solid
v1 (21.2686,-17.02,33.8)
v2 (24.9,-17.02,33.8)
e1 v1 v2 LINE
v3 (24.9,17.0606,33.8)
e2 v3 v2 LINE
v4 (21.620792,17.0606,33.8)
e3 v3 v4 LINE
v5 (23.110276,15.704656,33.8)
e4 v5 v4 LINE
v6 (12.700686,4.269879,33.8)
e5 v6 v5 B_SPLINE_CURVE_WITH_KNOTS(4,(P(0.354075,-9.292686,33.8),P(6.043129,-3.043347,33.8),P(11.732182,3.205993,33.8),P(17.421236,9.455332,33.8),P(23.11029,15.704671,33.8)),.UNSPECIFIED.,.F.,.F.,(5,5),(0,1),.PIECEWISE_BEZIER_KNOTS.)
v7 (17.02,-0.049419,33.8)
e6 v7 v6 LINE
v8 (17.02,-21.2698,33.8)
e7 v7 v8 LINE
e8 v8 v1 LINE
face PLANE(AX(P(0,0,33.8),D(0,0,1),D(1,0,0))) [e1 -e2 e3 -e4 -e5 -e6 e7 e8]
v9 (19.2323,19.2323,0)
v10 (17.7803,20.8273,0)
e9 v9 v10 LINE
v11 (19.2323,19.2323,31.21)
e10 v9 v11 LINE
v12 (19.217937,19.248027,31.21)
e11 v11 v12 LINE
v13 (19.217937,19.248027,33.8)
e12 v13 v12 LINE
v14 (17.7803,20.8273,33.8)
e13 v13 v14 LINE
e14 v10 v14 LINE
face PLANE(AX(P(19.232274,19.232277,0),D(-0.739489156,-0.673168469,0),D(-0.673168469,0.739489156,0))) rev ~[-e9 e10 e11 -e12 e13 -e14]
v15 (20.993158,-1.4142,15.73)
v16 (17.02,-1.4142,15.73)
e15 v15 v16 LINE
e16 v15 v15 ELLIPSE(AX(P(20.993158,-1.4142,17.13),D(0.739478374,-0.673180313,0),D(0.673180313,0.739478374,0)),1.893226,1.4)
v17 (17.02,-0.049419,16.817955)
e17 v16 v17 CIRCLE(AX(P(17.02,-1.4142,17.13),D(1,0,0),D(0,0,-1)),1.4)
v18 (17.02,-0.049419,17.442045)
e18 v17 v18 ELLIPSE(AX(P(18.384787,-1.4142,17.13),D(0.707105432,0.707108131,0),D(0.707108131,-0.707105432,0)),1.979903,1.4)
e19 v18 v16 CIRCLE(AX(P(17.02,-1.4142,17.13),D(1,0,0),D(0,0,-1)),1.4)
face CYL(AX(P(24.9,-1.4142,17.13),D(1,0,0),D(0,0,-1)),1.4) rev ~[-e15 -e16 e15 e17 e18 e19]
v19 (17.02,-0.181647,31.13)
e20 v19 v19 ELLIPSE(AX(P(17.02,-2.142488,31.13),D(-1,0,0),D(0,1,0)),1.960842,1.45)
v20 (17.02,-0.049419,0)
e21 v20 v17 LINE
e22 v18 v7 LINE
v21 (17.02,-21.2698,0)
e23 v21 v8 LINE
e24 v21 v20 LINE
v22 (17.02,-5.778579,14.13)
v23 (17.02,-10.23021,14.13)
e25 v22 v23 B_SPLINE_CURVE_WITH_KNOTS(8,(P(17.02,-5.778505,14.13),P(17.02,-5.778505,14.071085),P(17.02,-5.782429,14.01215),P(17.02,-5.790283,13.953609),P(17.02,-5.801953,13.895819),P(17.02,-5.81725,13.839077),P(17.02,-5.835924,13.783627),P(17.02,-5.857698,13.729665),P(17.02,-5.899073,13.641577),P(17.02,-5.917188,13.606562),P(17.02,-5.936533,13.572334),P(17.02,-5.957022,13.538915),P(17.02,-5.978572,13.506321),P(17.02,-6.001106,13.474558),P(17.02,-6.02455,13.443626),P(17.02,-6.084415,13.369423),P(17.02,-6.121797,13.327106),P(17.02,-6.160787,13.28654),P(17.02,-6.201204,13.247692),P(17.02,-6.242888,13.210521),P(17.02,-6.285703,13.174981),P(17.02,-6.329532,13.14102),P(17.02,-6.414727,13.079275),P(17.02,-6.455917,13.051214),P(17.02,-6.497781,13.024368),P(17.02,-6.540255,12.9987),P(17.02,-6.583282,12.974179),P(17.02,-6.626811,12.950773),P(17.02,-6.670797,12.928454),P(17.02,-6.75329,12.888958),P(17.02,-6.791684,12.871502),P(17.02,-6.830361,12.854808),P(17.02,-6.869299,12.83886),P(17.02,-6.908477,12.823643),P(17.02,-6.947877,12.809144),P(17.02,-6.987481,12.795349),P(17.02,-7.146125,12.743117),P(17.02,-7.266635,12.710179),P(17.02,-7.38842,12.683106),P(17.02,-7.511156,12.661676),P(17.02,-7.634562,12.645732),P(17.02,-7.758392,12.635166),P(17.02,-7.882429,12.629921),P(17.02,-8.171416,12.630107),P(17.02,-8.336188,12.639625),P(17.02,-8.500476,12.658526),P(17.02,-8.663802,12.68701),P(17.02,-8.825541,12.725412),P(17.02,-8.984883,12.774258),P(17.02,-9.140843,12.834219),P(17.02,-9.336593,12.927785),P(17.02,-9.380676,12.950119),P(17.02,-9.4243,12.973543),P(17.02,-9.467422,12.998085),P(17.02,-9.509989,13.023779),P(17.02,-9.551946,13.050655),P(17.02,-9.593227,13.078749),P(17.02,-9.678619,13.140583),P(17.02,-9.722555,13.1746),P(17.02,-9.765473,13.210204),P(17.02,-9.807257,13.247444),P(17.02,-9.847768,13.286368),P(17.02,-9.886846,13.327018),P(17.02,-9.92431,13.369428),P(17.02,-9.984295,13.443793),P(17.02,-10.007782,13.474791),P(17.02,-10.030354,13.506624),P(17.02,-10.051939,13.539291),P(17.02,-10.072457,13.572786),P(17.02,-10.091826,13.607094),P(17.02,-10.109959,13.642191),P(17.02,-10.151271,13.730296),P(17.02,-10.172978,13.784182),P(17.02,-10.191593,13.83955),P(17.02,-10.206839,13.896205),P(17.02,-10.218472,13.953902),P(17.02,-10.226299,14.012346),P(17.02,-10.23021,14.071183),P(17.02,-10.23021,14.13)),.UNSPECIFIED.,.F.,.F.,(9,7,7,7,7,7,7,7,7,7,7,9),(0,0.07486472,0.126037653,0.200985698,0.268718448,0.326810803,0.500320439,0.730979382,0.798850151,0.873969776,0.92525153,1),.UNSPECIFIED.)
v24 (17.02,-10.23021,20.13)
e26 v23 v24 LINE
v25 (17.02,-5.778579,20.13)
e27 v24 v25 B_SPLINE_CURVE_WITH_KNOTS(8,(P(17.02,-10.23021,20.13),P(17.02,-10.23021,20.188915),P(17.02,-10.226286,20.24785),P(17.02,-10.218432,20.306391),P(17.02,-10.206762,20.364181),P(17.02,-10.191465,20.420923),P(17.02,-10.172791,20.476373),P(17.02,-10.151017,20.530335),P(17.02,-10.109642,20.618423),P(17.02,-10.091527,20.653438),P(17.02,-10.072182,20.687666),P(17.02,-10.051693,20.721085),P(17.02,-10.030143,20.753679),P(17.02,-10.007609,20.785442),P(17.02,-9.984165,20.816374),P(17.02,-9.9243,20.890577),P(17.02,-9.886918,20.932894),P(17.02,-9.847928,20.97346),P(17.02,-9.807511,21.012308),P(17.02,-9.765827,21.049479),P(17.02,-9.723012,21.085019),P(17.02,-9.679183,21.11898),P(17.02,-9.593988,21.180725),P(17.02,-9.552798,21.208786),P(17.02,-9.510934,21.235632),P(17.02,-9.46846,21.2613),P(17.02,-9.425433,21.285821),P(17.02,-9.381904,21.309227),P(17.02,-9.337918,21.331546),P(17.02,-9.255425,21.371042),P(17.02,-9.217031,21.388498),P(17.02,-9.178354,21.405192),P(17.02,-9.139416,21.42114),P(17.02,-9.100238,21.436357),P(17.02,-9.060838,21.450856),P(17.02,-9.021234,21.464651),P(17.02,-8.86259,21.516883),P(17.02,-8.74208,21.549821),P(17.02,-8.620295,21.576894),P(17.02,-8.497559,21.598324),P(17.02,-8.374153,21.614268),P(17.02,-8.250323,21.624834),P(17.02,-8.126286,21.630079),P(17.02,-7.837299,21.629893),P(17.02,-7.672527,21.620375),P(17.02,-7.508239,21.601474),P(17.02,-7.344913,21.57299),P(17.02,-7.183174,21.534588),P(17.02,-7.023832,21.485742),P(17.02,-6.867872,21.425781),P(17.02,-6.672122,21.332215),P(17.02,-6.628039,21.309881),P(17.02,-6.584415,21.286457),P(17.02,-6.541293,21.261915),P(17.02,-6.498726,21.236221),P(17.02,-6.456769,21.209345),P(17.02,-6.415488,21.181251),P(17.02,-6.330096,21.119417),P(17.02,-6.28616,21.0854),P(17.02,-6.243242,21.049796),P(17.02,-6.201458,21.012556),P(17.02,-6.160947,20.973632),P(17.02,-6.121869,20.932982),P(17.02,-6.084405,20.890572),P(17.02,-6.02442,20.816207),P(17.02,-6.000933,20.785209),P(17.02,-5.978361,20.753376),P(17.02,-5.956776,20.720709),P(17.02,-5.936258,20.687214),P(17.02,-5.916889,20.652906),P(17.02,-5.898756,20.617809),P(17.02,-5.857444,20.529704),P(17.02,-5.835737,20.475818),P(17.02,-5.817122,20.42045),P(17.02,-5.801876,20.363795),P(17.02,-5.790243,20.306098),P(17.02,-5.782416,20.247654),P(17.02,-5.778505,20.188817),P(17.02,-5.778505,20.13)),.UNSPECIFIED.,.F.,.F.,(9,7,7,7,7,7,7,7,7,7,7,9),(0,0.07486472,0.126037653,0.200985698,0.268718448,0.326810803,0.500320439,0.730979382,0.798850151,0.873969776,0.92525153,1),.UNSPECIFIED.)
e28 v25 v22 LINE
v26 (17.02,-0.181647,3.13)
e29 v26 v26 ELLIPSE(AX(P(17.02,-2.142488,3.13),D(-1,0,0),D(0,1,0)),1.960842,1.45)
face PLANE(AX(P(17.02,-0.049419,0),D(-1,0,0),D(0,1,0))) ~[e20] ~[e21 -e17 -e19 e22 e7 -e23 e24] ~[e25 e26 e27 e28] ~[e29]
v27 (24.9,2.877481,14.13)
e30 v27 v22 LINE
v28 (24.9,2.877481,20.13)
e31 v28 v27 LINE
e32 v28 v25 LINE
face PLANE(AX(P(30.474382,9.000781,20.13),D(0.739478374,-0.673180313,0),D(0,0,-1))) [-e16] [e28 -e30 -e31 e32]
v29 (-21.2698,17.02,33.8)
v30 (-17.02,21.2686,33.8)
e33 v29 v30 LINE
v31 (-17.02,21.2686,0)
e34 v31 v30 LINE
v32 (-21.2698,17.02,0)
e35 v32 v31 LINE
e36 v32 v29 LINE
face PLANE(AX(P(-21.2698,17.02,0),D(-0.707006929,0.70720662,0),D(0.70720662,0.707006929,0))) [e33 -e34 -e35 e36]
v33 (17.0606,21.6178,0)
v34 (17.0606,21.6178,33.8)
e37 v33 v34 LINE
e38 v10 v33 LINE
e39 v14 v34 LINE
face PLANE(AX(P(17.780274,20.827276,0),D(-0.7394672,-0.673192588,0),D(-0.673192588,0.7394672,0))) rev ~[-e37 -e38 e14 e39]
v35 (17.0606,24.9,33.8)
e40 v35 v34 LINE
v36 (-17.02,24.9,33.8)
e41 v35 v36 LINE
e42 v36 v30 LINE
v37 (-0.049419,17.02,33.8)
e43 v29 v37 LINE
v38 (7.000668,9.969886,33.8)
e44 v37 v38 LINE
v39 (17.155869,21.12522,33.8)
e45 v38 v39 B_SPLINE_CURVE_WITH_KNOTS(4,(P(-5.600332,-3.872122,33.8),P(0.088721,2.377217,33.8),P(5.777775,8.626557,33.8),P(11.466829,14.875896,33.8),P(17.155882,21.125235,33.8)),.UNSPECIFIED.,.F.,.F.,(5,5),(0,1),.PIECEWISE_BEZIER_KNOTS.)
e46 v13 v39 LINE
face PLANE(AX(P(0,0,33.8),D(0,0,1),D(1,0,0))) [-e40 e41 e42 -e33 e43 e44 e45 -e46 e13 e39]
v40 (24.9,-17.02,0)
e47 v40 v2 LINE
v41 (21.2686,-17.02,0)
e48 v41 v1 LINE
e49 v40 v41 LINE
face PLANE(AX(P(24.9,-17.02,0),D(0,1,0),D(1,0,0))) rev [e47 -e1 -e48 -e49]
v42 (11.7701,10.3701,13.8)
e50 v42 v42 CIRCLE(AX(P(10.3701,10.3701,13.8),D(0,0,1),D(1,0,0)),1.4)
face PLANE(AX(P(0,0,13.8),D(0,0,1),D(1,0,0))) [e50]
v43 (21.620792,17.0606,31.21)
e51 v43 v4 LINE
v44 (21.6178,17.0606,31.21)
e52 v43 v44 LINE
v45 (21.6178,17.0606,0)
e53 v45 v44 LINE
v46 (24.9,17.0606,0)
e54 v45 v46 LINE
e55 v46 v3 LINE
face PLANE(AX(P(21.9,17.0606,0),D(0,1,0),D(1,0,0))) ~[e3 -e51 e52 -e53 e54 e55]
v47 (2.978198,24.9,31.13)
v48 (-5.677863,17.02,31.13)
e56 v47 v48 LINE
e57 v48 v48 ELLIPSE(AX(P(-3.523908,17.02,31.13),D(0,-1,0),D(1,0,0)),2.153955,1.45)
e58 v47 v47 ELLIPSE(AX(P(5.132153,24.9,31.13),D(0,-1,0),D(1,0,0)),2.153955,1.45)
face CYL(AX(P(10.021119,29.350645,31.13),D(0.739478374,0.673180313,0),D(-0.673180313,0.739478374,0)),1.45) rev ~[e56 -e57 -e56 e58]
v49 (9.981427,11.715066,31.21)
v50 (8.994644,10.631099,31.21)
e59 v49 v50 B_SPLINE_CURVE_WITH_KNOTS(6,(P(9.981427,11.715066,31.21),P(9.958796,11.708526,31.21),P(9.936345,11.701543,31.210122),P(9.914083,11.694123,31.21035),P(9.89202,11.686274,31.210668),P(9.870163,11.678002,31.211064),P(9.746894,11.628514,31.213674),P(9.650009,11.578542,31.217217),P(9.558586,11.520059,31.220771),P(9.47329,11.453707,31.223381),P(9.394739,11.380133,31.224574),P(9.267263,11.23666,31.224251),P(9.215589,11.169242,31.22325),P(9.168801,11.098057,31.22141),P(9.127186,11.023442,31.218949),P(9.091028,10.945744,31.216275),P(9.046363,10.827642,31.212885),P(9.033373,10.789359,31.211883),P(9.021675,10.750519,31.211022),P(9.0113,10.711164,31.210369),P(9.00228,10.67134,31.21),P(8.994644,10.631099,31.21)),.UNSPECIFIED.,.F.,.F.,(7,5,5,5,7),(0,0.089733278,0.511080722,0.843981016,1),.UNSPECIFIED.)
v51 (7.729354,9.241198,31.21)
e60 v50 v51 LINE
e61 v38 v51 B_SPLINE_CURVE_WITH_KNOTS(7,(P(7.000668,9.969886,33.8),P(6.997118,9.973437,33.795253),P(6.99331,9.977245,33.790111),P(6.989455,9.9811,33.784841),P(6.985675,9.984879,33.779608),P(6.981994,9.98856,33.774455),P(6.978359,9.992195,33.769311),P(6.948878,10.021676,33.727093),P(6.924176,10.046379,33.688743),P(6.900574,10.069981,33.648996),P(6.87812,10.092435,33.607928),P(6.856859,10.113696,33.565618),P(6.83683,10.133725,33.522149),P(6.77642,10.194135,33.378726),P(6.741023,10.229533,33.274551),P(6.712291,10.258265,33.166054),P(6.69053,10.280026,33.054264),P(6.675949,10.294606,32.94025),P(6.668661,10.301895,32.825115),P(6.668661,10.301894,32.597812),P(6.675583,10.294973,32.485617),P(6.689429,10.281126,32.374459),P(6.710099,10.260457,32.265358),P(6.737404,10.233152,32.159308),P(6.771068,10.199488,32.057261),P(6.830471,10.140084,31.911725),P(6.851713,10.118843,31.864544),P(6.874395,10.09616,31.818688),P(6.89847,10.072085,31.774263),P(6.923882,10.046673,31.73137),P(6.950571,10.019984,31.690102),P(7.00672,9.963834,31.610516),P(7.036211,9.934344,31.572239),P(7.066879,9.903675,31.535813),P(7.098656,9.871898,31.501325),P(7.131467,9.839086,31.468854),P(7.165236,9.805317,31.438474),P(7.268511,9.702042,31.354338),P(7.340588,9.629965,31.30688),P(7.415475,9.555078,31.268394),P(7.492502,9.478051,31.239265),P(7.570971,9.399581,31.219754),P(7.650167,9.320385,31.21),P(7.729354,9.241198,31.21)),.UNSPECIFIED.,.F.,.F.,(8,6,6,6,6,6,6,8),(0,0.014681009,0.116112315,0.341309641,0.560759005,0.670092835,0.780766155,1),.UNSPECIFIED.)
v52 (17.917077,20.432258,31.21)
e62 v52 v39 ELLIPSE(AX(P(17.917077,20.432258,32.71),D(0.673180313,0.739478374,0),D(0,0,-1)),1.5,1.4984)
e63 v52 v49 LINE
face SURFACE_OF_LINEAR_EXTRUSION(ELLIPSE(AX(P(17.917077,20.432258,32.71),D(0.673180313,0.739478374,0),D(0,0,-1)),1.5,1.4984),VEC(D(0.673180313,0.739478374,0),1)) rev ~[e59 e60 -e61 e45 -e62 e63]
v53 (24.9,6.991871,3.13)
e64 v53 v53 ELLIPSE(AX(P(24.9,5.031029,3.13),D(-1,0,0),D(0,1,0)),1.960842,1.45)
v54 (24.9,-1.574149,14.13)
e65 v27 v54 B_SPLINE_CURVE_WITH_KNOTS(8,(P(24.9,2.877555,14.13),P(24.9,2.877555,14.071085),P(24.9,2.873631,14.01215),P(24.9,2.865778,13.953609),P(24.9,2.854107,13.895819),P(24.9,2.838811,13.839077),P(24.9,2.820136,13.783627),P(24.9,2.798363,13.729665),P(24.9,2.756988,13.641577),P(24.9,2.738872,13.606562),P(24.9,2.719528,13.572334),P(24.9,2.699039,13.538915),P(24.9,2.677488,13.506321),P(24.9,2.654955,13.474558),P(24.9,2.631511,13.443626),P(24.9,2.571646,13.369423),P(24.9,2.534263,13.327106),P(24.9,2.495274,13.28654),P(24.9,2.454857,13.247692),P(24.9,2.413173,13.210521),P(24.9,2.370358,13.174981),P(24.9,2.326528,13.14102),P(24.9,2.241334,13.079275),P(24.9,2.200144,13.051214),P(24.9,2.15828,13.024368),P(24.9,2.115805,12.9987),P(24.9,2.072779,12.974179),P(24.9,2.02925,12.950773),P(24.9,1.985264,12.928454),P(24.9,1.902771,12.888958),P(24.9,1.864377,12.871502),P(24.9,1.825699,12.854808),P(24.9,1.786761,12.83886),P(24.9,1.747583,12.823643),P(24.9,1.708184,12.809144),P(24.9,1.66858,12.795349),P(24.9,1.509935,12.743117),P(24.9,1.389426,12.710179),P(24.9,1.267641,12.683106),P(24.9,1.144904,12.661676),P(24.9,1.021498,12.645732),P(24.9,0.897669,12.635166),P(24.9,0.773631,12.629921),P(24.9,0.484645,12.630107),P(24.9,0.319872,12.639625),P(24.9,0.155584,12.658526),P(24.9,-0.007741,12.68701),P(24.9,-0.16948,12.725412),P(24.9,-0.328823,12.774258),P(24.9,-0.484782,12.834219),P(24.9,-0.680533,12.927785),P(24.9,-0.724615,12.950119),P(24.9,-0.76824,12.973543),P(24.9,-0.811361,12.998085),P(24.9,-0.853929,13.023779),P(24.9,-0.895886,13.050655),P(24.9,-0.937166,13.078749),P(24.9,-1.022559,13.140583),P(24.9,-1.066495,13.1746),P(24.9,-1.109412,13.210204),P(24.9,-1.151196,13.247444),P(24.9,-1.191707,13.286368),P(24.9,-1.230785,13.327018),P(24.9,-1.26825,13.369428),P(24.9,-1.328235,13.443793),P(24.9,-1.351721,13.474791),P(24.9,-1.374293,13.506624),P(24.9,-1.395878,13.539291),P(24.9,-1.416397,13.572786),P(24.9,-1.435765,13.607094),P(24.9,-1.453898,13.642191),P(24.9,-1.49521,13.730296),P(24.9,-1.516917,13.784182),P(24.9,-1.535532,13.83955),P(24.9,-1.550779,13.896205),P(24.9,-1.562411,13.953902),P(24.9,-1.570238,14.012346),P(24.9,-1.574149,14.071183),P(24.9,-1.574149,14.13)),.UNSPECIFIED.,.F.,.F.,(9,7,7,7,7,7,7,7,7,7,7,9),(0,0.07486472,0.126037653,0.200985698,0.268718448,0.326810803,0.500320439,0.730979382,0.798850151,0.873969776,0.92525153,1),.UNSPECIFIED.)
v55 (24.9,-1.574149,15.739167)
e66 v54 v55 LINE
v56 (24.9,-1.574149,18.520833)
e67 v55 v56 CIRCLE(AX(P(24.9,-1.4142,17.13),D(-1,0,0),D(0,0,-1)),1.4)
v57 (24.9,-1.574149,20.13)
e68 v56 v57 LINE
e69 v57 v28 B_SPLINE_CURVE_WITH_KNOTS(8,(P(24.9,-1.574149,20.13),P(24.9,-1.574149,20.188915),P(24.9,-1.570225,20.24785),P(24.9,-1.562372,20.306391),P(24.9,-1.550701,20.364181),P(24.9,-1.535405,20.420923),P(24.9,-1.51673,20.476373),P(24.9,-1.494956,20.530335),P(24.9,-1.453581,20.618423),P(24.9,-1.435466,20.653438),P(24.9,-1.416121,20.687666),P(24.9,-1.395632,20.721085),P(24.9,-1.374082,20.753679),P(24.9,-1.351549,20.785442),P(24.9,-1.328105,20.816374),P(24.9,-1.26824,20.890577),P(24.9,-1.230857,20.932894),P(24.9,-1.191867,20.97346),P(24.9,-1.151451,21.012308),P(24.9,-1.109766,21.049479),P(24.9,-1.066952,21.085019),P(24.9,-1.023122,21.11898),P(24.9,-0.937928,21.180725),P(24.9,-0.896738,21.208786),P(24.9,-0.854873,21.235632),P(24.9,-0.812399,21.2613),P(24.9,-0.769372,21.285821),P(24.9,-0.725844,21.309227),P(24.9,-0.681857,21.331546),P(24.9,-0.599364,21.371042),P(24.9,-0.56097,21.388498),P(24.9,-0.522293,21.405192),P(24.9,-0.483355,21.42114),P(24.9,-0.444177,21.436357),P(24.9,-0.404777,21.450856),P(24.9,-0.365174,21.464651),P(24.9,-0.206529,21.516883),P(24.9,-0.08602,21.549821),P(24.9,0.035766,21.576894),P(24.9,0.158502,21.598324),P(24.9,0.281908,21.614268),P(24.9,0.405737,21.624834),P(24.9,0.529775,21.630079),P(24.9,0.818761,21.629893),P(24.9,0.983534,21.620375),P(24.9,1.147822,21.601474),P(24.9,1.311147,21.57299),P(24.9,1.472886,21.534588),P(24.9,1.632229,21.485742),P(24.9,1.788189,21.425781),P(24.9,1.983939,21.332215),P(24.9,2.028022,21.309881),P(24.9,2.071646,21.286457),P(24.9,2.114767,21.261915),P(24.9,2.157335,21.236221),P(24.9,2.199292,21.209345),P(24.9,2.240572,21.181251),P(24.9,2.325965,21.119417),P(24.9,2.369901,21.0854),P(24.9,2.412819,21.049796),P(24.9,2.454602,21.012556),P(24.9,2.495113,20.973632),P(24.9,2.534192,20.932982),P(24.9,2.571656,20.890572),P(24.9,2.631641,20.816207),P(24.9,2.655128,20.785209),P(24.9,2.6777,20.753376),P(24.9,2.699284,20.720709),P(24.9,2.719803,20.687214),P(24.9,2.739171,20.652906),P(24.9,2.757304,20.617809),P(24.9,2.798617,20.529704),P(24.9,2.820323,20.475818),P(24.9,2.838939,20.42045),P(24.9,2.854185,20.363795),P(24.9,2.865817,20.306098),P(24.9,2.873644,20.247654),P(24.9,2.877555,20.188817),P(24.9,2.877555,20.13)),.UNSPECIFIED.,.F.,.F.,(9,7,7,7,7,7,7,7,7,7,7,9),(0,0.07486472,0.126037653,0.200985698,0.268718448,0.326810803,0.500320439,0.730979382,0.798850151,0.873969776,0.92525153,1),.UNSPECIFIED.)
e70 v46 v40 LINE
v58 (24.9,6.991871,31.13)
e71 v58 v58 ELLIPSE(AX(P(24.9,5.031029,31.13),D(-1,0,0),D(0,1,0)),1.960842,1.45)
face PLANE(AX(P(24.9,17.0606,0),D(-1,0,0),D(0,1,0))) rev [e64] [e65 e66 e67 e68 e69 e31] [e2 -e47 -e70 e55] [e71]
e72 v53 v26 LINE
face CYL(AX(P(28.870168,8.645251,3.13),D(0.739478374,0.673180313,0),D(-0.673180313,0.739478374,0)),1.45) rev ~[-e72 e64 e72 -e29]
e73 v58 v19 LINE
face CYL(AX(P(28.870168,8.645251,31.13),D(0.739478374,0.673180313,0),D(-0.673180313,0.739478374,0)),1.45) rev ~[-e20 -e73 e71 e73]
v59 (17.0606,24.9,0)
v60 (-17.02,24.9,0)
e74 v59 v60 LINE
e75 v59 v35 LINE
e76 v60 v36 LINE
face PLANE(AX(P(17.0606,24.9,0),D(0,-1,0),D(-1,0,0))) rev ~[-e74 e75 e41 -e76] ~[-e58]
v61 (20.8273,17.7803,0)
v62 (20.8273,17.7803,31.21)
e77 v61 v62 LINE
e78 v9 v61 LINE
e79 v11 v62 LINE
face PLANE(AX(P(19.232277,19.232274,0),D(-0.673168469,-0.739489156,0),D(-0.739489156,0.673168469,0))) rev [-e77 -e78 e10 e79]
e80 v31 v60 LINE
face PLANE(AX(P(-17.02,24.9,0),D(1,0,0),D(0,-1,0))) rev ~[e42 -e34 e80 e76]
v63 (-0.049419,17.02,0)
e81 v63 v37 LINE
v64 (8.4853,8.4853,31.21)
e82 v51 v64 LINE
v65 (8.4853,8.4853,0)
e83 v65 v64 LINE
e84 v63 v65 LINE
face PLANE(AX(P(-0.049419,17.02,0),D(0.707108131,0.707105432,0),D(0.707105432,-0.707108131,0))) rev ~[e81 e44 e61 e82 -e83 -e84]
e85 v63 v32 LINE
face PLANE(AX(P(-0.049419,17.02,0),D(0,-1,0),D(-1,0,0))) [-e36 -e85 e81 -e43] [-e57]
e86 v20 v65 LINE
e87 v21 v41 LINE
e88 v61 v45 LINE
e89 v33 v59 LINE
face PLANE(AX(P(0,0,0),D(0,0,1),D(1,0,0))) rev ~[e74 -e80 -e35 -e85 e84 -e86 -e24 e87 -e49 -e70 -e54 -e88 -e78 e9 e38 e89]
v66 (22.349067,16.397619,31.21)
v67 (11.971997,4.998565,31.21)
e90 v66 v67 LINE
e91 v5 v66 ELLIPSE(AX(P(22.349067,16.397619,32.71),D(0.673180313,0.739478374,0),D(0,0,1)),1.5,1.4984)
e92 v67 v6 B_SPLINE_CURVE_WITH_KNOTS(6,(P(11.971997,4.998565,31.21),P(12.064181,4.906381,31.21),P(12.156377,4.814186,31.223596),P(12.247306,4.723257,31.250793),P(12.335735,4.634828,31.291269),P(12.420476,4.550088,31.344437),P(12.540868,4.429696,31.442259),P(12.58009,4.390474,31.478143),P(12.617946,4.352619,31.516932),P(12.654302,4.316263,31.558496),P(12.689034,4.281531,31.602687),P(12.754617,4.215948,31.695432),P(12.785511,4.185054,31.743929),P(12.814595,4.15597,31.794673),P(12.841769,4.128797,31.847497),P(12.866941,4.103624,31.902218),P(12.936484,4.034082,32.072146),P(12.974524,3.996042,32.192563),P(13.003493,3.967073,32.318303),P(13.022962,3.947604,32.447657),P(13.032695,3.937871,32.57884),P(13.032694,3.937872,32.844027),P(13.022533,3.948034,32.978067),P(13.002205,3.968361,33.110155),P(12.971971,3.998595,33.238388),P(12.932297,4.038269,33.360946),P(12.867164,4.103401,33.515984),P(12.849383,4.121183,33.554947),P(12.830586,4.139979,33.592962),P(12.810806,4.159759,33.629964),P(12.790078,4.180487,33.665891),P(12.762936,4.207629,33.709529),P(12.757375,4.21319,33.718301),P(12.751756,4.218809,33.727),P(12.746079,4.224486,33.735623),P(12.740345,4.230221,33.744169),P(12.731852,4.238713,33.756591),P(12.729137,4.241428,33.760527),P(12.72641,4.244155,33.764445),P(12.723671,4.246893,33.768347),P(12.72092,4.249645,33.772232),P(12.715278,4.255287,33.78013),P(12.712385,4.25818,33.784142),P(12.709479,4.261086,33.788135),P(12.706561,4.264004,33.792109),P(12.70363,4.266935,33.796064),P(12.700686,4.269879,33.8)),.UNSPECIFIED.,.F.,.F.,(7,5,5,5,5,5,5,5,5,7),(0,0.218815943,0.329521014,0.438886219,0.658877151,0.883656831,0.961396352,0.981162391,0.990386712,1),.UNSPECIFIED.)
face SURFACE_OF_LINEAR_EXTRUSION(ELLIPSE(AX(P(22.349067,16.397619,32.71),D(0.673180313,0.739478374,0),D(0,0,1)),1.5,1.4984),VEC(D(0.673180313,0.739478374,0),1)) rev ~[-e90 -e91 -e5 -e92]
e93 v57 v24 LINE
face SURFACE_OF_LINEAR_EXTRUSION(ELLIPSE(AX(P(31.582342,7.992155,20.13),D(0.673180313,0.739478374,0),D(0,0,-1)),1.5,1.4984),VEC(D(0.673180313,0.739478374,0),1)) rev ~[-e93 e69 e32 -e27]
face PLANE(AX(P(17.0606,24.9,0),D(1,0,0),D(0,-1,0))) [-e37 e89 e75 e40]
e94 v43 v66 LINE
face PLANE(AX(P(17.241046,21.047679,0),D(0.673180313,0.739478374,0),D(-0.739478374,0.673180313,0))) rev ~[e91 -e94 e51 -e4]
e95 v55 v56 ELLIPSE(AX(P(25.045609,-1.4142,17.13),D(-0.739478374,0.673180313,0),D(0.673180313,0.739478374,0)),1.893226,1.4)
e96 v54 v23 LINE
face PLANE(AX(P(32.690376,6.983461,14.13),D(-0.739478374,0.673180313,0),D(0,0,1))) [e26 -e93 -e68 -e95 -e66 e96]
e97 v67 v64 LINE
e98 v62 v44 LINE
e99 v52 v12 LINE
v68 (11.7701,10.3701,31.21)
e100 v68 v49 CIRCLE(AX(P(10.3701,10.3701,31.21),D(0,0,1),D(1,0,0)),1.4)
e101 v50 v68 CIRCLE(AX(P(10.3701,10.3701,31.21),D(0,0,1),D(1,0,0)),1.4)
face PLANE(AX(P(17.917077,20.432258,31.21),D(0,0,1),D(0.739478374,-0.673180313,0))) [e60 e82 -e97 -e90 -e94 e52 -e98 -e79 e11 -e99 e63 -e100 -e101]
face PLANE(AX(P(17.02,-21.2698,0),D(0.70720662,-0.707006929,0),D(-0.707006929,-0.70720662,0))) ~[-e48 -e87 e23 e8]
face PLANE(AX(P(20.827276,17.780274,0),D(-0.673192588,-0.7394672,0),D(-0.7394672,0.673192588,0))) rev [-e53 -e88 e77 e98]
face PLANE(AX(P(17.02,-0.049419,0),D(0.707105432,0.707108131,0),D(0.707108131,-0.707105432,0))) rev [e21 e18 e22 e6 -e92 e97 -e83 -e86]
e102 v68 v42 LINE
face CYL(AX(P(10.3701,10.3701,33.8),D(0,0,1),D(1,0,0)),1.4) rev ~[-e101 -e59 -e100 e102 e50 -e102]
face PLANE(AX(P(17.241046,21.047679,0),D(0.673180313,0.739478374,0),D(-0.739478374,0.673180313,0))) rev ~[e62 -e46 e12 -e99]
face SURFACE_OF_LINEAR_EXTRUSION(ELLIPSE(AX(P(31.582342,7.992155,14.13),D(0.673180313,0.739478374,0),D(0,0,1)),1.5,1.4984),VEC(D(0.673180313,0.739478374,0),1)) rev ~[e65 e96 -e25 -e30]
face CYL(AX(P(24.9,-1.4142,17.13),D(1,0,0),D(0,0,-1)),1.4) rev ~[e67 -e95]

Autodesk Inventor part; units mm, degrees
ref_plane "YZ Plane" through (0, 0, 0) normal (1, 0, 0) x (0, 1, 0)
ref_plane "XZ Plane" through (0, 0, 0) normal (0, 1, 0) x (-1, 0, 0)
ref_plane "XY Plane" through (0, 0, 0) normal (0, 0, 1) x (1, 0, 0)
ref_plane "Arbeitsebene1" through (0, 0, 0) normal (0, 0, 1) x (1, 0, 0)
sketch "Skizze1" plane through (0, 0, 0) normal (0, 0, 1) x (1, 0, 0)
  arc A0 (24.9, 22.9) -> (22.9, 24.9) centre (22.9, 22.9) ccw projected
  line L0 (22.9, 24.9) -> (-17.02, 24.9) projected
  line L1 (-17.02, 24.9) -> (-17.02, 21.2686) projected
  line L2 (-17.02, 21.2) -> (17.02, 21.2) projected
  line L3 (-21.2698, 17.02) -> (-17.02, 17.02) projected
  line L4 (21.2698, 17.02) -> (21.2698, -17.02) projected
  line L5 (21.2698, -17.02) -> (17.02, -17.02) projected
  line L6 (24.9, -17.02) -> (24.9, 22.9) projected
  line L7 (23.75, 23.25) -> (23.75, 18.15) projected
  arc A1 (23.25, 17.65) -> (23.75, 18.15) centre (23.25, 18.15) ccw projected
  line L8 (23.25, 17.65) -> (20.8937, 17.65) projected
  arc A2 (20.5239, 17.8134) -> (20.8937, 17.65) centre (20.8937, 18.15) ccw projected
  line L9 (20.5239, 17.8134) -> (17.7803, 20.8273) projected
  arc A3 (17.65, 21.1639) -> (17.7803, 20.8273) centre (18.15, 21.1639) ccw projected
  line L10 (17.65, 21.1639) -> (17.65, 23.25) projected
  arc A4 (18.15, 23.75) -> (17.65, 23.25) centre (18.15, 23.25) ccw projected
  line L11 (18.15, 23.75) -> (23.25, 23.75) projected
  arc A5 (23.75, 23.25) -> (23.25, 23.75) centre (23.25, 23.25) ccw projected
  line L12 (-17.02, 24.9) -> (17.0606, 24.9)
  line L13 (17.0606, 24.9) -> (17.0606, 21.9)
  line L14 (17.0606, 21.9) -> (-17.02, 21.9)
  line L15 (34.79, 34.79) -> (-34.79, -34.79)
  line L16 (17.0606, 21.9) -> (17.0606, 17.0606)
  line L17 (13.0606, 21.9) -> (13.0606, 13.0606)
  line L18 (17.0606, 17.0606) -> (13.0606, 13.0606)
  line L19 (17.02, 17.02) -> (-17.02, 17.02) projected
  line L20 (17.02, 21.2) -> (17.02, 17.02) projected
  line L21 (-17.02, 21.2) -> (17.02, 21.2) projected
  line L22 (-17.02, 24.9) -> (-17.02, 21.2686) projected
  line L23 (-21.2711, 17.02) -> (-17.02, 21.2686) projected
  line L24 (17.02, 17.02) -> (21.2698, 17.02) projected
  line L25 (-17.02, 21.9) -> (-13.02, 21.9)
  line L26 (-13.02, 21.9) -> (-13.02, 17.02)
  line L27 (-13.02, 17.02) -> (-17.02, 17.02)
  line L28 (-17.02, 17.02) -> (-17.02, 21.9)
  line L29 (-17.02, 21.2686) -> (-21.2711, 17.02)
  line L30 (-21.2711, 17.02) -> (-17.02, 17.02)
  line L31 (-4.9294, 21.9) -> (21.2698, -4.2993)
  line L32 (21.2698, 2.7718) -> (2.1416, 21.9)
  line L33 (12.0208, 12.0208) -> (8.4853, 8.4853)
  line L34 (-17.02, 17.02) -> (-17.02, 21.2) projected
  line L35 (-17.02, -21.2) -> (-17.02, -17.02) projected
  line L36 (-21.2698, -17.02) -> (-21.2698, 17.02) projected
  line L37 (-17.02, 17.02) -> (-17.02, 21.2) projected
  line L38 (17.02, 21.2) -> (17.02, 17.02) projected
  line L39 (17.02, 17.02) -> (21.2698, 17.02) projected
  line L40 (17.02, -17.02) -> (17.02, -21.2) projected
  line L41 (17.02, -21.2) -> (-17.02, -21.2) projected
  line L42 (-20.8273, -17.7803) -> (-17.8134, -20.5239) projected
  arc A6 (-17.65, -20.8937) -> (-17.8134, -20.5239) centre (-18.15, -20.8937) ccw projected
  line L43 (-17.65, -20.8937) -> (-17.65, -23.25) projected
  arc A7 (-18.15, -23.75) -> (-17.65, -23.25) centre (-18.15, -23.25) ccw projected
  line L44 (-18.15, -23.75) -> (-23.25, -23.75) projected
  arc A8 (-23.75, -23.25) -> (-23.25, -23.75) centre (-23.25, -23.25) ccw projected
  line L45 (-23.75, -23.25) -> (-23.75, -18.15) projected
  arc A9 (-23.25, -17.65) -> (-23.75, -18.15) centre (-23.25, -18.15) ccw projected
  line L46 (-23.25, -17.65) -> (-21.1639, -17.65) projected
  arc A10 (-20.8273, -17.7803) -> (-21.1639, -17.65) centre (-21.1639, -18.15) ccw projected
  line L47 (-21.2711, 17.02) -> (-17.02, 21.2686) projected
  line L48 (-21.2711, 17.02) -> (-24.9, 17.02) projected
  line L49 (-24.9, 17.02) -> (-24.9, -22.9) projected
  arc A11 (-24.9, -22.9) -> (-22.9, -24.9) centre (-22.9, -22.9) ccw projected
  line L50 (-22.9, -24.9) -> (17.02, -24.9) projected
  line L51 (17.02, -24.9) -> (17.02, -21.2686) projected
  line L52 (21.2711, -17.02) -> (17.02, -21.2686) projected
  line L53 (21.2711, -17.02) -> (24.9, -17.02) projected
  line L54 (-17.02, -21.2) -> (-17.02, -17.02) projected
  line L55 (-17.02, -17.02) -> (-21.2698, -17.02) projected
  line L56 (-21.2698, -17.02) -> (-21.2698, 17.02) projected
  line L57 (-17.02, 17.02) -> (-17.02, 21.2) projected
  line L58 (-17.02, 21.2) -> (17.02, 21.2) projected
  line L59 (17.02, 21.2) -> (17.02, 17.02) projected
  line L60 (21.2698, 17.02) -> (21.2698, -17.02) projected
  line L61 (21.2698, -17.02) -> (17.02, -17.02) projected
  line L62 (17.02, -17.02) -> (17.02, -21.2) projected
  line L63 (17.02, -21.2) -> (-17.02, -21.2) projected
  line L64 (-20.8273, -17.7803) -> (-17.8134, -20.5239) projected
  arc A12 (-17.65, -20.8937) -> (-17.8134, -20.5239) centre (-18.15, -20.8937) ccw projected
  line L65 (-17.65, -20.8937) -> (-17.65, -23.25) projected
  arc A13 (-18.15, -23.75) -> (-17.65, -23.25) centre (-18.15, -23.25) ccw projected
  line L66 (-18.15, -23.75) -> (-23.25, -23.75) projected
  arc A14 (-23.75, -23.25) -> (-23.25, -23.75) centre (-23.25, -23.25) ccw projected
  line L67 (-23.75, -23.25) -> (-23.75, -18.15) projected
  arc A15 (-23.25, -17.65) -> (-23.75, -18.15) centre (-23.25, -18.15) ccw projected
  line L68 (-23.25, -17.65) -> (-21.1639, -17.65) projected
  arc A16 (-20.8273, -17.7803) -> (-21.1639, -17.65) centre (-21.1639, -18.15) ccw projected
  line L69 (23.75, 23.25) -> (23.75, 18.15) projected
  arc A17 (23.25, 17.65) -> (23.75, 18.15) centre (23.25, 18.15) ccw projected
  line L70 (23.25, 17.65) -> (20.8937, 17.65) projected
  arc A18 (20.5239, 17.8134) -> (20.8937, 17.65) centre (20.8937, 18.15) ccw projected
  line L71 (20.5239, 17.8134) -> (17.7803, 20.8273) projected
  arc A19 (17.65, 21.1639) -> (17.7803, 20.8273) centre (18.15, 21.1639) ccw projected
  line L72 (17.65, 21.1639) -> (17.65, 23.25) projected
  arc A20 (18.15, 23.75) -> (17.65, 23.25) centre (18.15, 23.25) ccw projected
  line L73 (18.15, 23.75) -> (23.25, 23.75) projected
  arc A21 (23.75, 23.25) -> (23.25, 23.75) centre (23.25, 23.25) ccw projected
  arc A22 (24.9, 22.9) -> (22.9, 24.9) centre (22.9, 22.9) ccw projected
  line L74 (22.9, 24.9) -> (-17.02, 24.9) projected
  line L75 (-21.2711, 17.02) -> (-24.9, 17.02) projected
  line L76 (-24.9, 17.02) -> (-24.9, -22.9) projected
  arc A23 (-24.9, -22.9) -> (-22.9, -24.9) centre (-22.9, -22.9) ccw projected
  line L77 (-22.9, -24.9) -> (17.02, -24.9) projected
  line L78 (17.02, -24.9) -> (17.02, -21.2686) projected
  line L79 (21.2711, -17.02) -> (17.02, -21.2686) projected
  line L80 (21.2711, -17.02) -> (24.9, -17.02) projected
  line L81 (24.9, -17.02) -> (24.9, 22.9) projected
  line L82 (19.2323, 19.2323) -> (17.0606, 21.6178)
  line L83 (-17.02, -17.02) -> (-21.2698, -17.02) projected
  line L84 (-21.2698, 17.02) -> (-17.02, 17.02) projected
  point P0 (0, 0)
  point P1 (17.0606, 24.9)
  point P2 (-16.97, 16.97)
  point P3 (-13.02, 17.02)
  point P4 (-13.02, 21.2)
  point P5 (13.0606, 21.2)
  point P6 (2.8416, 21.2)
  point P7 (-4.2294, 21.2)
  point P8 (13.0606, 17.02)
  point P9 (16.97, 21.2)
  point P10 (-16.97, 17.02)
  point P11 (-17.02, 20.7)
  point P12 (13.0606, 21.2)
  point P13 (-16.97, 21.2)
  point P14 (-17.02, 21.9)
  point P15 (19.2323, 19.2323)
  point P16 (23.6036, 23.6036)
  point P17 (24.3142, 24.3142)
  point P18 (16.97, 17.02)
  point P19 (7.0216, 17.02)
  point P20 (-0.0494, 17.02)
  point P21 (-17.02, 17.02)
  dimension "d3" = 4
  dimension "d6" = 4
  dimension "d9" = 0
  dimension "d11" = 5
  dimension "d35" = 0
extrude "Extrusion1" add sketch "Skizze1" along normal blind 33.8 contours L13 L14 L1 L0 | L15 L16 L82 L9 | L16 L15 L20 L2 L17 L14 | L31 L19 L32 L15 | L14 L26 L2 L28 L1 | L17 L2 L32 L14 | L15 L17 L19 | L19 L17 L2 L20 | L32 L19 L17 L15 | L31 L2 L32 L19 | L19 L26 L2 L31 | L28 L3 L23 | L14 L31 L2 L26 | L32 L2 L31 L14 | L17 L19 L32 L2 | L19 L28 L2 L26
mirror "Spiegeln1" about plane through (8.4853, 8.4853, 0) normal (0.7071, -0.7071, 0) of "Extrusion1"
sketch "Skizze2" plane through (17.6463, 20.9745, 0) normal (0.7395, 0.6732, 0) x (-0.6732, 0.7395, 0)
  circle A0 centre (-16.6729, 31.13) radius 1.45
  circle A1 centre (-16.6729, 3.13) radius 1.45
  circle A2 centre (11.3271, 31.13) radius 1.45
  point P0 (-3.6312, 0)
  dimension "d36" = 2.9
  dimension "d37" = 2.9
  dimension "d38" = 2.9
sketch "Skizze3" plane through (17.2397, 21.0462, 0) normal (0.6732, 0.7395, 0) x (-0.7395, 0.6732, 0)
  line L0 (-17.8955, 20.13) -> (-17.8955, 14.13) projected
  line L1 (-20.8922, 14.13) -> (-20.8922, 20.13) projected
  line L2 (-0.9142, 31.21) -> (-6.9076, 31.21) projected
  line L3 (-6.9076, 34.21) -> (-0.9142, 34.21) projected
  line L4 (13.0291, 42.03) -> (-20.8922, 42.03) projected
  line L5 (-20.8922, 42.03) -> (-20.8922, 38.4552) projected
  line L6 (-20.8922, 38.4552) -> (-25.2126, 34.13) projected
  line L7 (-25.2126, 34.13) -> (-28.7835, 34.13) projected
  line L8 (-28.7835, 34.13) -> (-28.7835, 0.13) projected
  line L9 (-28.7835, 0.13) -> (-25.2126, 0.13) projected
  line L10 (-25.2126, 0.13) -> (-20.8922, -4.1952) projected
  line L11 (-20.8922, -4.1952) -> (-20.8922, -7.77) projected
  line L12 (-20.8922, -7.77) -> (13.0704, -7.77) projected
  line L13 (13.0704, -7.77) -> (13.0704, -4.1952) projected
  line L14 (13.0704, -4.1952) -> (17.3909, 0.13) projected
  line L15 (17.3909, 0.13) -> (20.9618, 0.13) projected
  line L16 (20.9618, 0.13) -> (20.9618, 34.13) projected
  line L17 (20.9618, 34.13) -> (17.3909, 34.13) projected
  line L18 (17.3909, 34.13) -> (13.0291, 38.4966) projected
  line L19 (13.0291, 38.4966) -> (13.0291, 42.03) projected
  ellipse E0 centre (-19.3938, 14.13) end of major axis (-19.3938, 15.63) minor radius 1.4984 (-20.8922, 14.13) -> (-17.8955, 14.13) ccw projected
  ellipse E1 centre (-19.3938, 20.13) end of major axis (-19.3938, 18.63) minor radius 1.4984 (-17.8955, 20.13) -> (-20.8922, 20.13) ccw projected
  ellipse E2 centre (-6.9076, 32.71) end of major axis (-6.9076, 34.21) minor radius 1.4984 (-6.9076, 34.21) -> (-6.9076, 31.21) ccw projected
  ellipse E3 centre (-0.9142, 32.71) end of major axis (-0.9142, 31.21) minor radius 1.4984 (-0.9142, 31.21) -> (-0.9142, 34.21) ccw projected
  ellipse E4 centre (-17.8955, 31.13) end of major axis (-17.8955, 34.38) minor radius 3.2464 projected
  ellipse E5 centre (-3.9109, 17.13) end of major axis (-3.9109, 20.38) minor radius 3.2464 projected
  ellipse E6 centre (10.0737, 31.13) end of major axis (10.0737, 34.38) minor radius 3.2464 projected
  ellipse E7 centre (-17.8955, 3.13) end of major axis (-17.8955, 6.38) minor radius 3.2464 projected
  point P0 (-1.4194, 0)
extrude "Extrusion2" cut sketch "Skizze3" against normal blind 33.8 contours L0 E0 L1 E1 | L2 E2 L3 E3
sketch "Skizze4" plane through (0, 0, 33.8) normal (0, 0, 1) x (1, 0, 0)
  line L0 (22.3477, 16.3962) -> (11.972, 4.9986) projected
  line L1 (17.9157, 20.4308) -> (7.7294, 9.2412) projected
  circle A0 centre (10.3701, 10.3701) radius 1.4
  line L2 (19.2323, 19.2323) -> (21.6178, 17.0606) projected
  line L3 (19.2323, 19.2323) -> (17.9157, 20.4308) projected
  line L4 (11.972, 4.9986) -> (7.7294, 9.2412) projected
  line L5 (22.3477, 16.3962) -> (21.6178, 17.0606) projected
  point P0 (0, 0)
  dimension "d26" = 2.8
extrude "Extrusion3" cut sketch "Skizze4" against normal blind 20 contours A0 L1 | L1 A0
sketch "Skizze5" plane through (24.9, -16.97, 33.8) normal (1, 0, 0) x (0, 0, -1)
  line L0 (0, 34.0306) -> (0, -0.05) projected
  line L1 (33.8, 34.0306) -> (33.8, -0.05) projected
  line L2 (19.67, 15.5558) -> (13.67, 15.5558) projected
  circle A0 centre (16.67, 15.5558) radius 1.4
  line L3 (33.8, -0.05) -> (0, -0.05) projected
  line L4 (33.8, 34.0306) -> (0, 34.0306) projected
  point P0 (33.8, 16.97)
  dimension "d29" = 2.8
extrude "Extrusion4" cut sketch "Skizze5" against normal blind 20 contours A0 L2 | L2 A0
extrude "Extrusion6" cut sketch "Skizze2" against normal through all
properties part number "20_Cube_Insert_Kinematic_Mirror_45_pro_v3"
